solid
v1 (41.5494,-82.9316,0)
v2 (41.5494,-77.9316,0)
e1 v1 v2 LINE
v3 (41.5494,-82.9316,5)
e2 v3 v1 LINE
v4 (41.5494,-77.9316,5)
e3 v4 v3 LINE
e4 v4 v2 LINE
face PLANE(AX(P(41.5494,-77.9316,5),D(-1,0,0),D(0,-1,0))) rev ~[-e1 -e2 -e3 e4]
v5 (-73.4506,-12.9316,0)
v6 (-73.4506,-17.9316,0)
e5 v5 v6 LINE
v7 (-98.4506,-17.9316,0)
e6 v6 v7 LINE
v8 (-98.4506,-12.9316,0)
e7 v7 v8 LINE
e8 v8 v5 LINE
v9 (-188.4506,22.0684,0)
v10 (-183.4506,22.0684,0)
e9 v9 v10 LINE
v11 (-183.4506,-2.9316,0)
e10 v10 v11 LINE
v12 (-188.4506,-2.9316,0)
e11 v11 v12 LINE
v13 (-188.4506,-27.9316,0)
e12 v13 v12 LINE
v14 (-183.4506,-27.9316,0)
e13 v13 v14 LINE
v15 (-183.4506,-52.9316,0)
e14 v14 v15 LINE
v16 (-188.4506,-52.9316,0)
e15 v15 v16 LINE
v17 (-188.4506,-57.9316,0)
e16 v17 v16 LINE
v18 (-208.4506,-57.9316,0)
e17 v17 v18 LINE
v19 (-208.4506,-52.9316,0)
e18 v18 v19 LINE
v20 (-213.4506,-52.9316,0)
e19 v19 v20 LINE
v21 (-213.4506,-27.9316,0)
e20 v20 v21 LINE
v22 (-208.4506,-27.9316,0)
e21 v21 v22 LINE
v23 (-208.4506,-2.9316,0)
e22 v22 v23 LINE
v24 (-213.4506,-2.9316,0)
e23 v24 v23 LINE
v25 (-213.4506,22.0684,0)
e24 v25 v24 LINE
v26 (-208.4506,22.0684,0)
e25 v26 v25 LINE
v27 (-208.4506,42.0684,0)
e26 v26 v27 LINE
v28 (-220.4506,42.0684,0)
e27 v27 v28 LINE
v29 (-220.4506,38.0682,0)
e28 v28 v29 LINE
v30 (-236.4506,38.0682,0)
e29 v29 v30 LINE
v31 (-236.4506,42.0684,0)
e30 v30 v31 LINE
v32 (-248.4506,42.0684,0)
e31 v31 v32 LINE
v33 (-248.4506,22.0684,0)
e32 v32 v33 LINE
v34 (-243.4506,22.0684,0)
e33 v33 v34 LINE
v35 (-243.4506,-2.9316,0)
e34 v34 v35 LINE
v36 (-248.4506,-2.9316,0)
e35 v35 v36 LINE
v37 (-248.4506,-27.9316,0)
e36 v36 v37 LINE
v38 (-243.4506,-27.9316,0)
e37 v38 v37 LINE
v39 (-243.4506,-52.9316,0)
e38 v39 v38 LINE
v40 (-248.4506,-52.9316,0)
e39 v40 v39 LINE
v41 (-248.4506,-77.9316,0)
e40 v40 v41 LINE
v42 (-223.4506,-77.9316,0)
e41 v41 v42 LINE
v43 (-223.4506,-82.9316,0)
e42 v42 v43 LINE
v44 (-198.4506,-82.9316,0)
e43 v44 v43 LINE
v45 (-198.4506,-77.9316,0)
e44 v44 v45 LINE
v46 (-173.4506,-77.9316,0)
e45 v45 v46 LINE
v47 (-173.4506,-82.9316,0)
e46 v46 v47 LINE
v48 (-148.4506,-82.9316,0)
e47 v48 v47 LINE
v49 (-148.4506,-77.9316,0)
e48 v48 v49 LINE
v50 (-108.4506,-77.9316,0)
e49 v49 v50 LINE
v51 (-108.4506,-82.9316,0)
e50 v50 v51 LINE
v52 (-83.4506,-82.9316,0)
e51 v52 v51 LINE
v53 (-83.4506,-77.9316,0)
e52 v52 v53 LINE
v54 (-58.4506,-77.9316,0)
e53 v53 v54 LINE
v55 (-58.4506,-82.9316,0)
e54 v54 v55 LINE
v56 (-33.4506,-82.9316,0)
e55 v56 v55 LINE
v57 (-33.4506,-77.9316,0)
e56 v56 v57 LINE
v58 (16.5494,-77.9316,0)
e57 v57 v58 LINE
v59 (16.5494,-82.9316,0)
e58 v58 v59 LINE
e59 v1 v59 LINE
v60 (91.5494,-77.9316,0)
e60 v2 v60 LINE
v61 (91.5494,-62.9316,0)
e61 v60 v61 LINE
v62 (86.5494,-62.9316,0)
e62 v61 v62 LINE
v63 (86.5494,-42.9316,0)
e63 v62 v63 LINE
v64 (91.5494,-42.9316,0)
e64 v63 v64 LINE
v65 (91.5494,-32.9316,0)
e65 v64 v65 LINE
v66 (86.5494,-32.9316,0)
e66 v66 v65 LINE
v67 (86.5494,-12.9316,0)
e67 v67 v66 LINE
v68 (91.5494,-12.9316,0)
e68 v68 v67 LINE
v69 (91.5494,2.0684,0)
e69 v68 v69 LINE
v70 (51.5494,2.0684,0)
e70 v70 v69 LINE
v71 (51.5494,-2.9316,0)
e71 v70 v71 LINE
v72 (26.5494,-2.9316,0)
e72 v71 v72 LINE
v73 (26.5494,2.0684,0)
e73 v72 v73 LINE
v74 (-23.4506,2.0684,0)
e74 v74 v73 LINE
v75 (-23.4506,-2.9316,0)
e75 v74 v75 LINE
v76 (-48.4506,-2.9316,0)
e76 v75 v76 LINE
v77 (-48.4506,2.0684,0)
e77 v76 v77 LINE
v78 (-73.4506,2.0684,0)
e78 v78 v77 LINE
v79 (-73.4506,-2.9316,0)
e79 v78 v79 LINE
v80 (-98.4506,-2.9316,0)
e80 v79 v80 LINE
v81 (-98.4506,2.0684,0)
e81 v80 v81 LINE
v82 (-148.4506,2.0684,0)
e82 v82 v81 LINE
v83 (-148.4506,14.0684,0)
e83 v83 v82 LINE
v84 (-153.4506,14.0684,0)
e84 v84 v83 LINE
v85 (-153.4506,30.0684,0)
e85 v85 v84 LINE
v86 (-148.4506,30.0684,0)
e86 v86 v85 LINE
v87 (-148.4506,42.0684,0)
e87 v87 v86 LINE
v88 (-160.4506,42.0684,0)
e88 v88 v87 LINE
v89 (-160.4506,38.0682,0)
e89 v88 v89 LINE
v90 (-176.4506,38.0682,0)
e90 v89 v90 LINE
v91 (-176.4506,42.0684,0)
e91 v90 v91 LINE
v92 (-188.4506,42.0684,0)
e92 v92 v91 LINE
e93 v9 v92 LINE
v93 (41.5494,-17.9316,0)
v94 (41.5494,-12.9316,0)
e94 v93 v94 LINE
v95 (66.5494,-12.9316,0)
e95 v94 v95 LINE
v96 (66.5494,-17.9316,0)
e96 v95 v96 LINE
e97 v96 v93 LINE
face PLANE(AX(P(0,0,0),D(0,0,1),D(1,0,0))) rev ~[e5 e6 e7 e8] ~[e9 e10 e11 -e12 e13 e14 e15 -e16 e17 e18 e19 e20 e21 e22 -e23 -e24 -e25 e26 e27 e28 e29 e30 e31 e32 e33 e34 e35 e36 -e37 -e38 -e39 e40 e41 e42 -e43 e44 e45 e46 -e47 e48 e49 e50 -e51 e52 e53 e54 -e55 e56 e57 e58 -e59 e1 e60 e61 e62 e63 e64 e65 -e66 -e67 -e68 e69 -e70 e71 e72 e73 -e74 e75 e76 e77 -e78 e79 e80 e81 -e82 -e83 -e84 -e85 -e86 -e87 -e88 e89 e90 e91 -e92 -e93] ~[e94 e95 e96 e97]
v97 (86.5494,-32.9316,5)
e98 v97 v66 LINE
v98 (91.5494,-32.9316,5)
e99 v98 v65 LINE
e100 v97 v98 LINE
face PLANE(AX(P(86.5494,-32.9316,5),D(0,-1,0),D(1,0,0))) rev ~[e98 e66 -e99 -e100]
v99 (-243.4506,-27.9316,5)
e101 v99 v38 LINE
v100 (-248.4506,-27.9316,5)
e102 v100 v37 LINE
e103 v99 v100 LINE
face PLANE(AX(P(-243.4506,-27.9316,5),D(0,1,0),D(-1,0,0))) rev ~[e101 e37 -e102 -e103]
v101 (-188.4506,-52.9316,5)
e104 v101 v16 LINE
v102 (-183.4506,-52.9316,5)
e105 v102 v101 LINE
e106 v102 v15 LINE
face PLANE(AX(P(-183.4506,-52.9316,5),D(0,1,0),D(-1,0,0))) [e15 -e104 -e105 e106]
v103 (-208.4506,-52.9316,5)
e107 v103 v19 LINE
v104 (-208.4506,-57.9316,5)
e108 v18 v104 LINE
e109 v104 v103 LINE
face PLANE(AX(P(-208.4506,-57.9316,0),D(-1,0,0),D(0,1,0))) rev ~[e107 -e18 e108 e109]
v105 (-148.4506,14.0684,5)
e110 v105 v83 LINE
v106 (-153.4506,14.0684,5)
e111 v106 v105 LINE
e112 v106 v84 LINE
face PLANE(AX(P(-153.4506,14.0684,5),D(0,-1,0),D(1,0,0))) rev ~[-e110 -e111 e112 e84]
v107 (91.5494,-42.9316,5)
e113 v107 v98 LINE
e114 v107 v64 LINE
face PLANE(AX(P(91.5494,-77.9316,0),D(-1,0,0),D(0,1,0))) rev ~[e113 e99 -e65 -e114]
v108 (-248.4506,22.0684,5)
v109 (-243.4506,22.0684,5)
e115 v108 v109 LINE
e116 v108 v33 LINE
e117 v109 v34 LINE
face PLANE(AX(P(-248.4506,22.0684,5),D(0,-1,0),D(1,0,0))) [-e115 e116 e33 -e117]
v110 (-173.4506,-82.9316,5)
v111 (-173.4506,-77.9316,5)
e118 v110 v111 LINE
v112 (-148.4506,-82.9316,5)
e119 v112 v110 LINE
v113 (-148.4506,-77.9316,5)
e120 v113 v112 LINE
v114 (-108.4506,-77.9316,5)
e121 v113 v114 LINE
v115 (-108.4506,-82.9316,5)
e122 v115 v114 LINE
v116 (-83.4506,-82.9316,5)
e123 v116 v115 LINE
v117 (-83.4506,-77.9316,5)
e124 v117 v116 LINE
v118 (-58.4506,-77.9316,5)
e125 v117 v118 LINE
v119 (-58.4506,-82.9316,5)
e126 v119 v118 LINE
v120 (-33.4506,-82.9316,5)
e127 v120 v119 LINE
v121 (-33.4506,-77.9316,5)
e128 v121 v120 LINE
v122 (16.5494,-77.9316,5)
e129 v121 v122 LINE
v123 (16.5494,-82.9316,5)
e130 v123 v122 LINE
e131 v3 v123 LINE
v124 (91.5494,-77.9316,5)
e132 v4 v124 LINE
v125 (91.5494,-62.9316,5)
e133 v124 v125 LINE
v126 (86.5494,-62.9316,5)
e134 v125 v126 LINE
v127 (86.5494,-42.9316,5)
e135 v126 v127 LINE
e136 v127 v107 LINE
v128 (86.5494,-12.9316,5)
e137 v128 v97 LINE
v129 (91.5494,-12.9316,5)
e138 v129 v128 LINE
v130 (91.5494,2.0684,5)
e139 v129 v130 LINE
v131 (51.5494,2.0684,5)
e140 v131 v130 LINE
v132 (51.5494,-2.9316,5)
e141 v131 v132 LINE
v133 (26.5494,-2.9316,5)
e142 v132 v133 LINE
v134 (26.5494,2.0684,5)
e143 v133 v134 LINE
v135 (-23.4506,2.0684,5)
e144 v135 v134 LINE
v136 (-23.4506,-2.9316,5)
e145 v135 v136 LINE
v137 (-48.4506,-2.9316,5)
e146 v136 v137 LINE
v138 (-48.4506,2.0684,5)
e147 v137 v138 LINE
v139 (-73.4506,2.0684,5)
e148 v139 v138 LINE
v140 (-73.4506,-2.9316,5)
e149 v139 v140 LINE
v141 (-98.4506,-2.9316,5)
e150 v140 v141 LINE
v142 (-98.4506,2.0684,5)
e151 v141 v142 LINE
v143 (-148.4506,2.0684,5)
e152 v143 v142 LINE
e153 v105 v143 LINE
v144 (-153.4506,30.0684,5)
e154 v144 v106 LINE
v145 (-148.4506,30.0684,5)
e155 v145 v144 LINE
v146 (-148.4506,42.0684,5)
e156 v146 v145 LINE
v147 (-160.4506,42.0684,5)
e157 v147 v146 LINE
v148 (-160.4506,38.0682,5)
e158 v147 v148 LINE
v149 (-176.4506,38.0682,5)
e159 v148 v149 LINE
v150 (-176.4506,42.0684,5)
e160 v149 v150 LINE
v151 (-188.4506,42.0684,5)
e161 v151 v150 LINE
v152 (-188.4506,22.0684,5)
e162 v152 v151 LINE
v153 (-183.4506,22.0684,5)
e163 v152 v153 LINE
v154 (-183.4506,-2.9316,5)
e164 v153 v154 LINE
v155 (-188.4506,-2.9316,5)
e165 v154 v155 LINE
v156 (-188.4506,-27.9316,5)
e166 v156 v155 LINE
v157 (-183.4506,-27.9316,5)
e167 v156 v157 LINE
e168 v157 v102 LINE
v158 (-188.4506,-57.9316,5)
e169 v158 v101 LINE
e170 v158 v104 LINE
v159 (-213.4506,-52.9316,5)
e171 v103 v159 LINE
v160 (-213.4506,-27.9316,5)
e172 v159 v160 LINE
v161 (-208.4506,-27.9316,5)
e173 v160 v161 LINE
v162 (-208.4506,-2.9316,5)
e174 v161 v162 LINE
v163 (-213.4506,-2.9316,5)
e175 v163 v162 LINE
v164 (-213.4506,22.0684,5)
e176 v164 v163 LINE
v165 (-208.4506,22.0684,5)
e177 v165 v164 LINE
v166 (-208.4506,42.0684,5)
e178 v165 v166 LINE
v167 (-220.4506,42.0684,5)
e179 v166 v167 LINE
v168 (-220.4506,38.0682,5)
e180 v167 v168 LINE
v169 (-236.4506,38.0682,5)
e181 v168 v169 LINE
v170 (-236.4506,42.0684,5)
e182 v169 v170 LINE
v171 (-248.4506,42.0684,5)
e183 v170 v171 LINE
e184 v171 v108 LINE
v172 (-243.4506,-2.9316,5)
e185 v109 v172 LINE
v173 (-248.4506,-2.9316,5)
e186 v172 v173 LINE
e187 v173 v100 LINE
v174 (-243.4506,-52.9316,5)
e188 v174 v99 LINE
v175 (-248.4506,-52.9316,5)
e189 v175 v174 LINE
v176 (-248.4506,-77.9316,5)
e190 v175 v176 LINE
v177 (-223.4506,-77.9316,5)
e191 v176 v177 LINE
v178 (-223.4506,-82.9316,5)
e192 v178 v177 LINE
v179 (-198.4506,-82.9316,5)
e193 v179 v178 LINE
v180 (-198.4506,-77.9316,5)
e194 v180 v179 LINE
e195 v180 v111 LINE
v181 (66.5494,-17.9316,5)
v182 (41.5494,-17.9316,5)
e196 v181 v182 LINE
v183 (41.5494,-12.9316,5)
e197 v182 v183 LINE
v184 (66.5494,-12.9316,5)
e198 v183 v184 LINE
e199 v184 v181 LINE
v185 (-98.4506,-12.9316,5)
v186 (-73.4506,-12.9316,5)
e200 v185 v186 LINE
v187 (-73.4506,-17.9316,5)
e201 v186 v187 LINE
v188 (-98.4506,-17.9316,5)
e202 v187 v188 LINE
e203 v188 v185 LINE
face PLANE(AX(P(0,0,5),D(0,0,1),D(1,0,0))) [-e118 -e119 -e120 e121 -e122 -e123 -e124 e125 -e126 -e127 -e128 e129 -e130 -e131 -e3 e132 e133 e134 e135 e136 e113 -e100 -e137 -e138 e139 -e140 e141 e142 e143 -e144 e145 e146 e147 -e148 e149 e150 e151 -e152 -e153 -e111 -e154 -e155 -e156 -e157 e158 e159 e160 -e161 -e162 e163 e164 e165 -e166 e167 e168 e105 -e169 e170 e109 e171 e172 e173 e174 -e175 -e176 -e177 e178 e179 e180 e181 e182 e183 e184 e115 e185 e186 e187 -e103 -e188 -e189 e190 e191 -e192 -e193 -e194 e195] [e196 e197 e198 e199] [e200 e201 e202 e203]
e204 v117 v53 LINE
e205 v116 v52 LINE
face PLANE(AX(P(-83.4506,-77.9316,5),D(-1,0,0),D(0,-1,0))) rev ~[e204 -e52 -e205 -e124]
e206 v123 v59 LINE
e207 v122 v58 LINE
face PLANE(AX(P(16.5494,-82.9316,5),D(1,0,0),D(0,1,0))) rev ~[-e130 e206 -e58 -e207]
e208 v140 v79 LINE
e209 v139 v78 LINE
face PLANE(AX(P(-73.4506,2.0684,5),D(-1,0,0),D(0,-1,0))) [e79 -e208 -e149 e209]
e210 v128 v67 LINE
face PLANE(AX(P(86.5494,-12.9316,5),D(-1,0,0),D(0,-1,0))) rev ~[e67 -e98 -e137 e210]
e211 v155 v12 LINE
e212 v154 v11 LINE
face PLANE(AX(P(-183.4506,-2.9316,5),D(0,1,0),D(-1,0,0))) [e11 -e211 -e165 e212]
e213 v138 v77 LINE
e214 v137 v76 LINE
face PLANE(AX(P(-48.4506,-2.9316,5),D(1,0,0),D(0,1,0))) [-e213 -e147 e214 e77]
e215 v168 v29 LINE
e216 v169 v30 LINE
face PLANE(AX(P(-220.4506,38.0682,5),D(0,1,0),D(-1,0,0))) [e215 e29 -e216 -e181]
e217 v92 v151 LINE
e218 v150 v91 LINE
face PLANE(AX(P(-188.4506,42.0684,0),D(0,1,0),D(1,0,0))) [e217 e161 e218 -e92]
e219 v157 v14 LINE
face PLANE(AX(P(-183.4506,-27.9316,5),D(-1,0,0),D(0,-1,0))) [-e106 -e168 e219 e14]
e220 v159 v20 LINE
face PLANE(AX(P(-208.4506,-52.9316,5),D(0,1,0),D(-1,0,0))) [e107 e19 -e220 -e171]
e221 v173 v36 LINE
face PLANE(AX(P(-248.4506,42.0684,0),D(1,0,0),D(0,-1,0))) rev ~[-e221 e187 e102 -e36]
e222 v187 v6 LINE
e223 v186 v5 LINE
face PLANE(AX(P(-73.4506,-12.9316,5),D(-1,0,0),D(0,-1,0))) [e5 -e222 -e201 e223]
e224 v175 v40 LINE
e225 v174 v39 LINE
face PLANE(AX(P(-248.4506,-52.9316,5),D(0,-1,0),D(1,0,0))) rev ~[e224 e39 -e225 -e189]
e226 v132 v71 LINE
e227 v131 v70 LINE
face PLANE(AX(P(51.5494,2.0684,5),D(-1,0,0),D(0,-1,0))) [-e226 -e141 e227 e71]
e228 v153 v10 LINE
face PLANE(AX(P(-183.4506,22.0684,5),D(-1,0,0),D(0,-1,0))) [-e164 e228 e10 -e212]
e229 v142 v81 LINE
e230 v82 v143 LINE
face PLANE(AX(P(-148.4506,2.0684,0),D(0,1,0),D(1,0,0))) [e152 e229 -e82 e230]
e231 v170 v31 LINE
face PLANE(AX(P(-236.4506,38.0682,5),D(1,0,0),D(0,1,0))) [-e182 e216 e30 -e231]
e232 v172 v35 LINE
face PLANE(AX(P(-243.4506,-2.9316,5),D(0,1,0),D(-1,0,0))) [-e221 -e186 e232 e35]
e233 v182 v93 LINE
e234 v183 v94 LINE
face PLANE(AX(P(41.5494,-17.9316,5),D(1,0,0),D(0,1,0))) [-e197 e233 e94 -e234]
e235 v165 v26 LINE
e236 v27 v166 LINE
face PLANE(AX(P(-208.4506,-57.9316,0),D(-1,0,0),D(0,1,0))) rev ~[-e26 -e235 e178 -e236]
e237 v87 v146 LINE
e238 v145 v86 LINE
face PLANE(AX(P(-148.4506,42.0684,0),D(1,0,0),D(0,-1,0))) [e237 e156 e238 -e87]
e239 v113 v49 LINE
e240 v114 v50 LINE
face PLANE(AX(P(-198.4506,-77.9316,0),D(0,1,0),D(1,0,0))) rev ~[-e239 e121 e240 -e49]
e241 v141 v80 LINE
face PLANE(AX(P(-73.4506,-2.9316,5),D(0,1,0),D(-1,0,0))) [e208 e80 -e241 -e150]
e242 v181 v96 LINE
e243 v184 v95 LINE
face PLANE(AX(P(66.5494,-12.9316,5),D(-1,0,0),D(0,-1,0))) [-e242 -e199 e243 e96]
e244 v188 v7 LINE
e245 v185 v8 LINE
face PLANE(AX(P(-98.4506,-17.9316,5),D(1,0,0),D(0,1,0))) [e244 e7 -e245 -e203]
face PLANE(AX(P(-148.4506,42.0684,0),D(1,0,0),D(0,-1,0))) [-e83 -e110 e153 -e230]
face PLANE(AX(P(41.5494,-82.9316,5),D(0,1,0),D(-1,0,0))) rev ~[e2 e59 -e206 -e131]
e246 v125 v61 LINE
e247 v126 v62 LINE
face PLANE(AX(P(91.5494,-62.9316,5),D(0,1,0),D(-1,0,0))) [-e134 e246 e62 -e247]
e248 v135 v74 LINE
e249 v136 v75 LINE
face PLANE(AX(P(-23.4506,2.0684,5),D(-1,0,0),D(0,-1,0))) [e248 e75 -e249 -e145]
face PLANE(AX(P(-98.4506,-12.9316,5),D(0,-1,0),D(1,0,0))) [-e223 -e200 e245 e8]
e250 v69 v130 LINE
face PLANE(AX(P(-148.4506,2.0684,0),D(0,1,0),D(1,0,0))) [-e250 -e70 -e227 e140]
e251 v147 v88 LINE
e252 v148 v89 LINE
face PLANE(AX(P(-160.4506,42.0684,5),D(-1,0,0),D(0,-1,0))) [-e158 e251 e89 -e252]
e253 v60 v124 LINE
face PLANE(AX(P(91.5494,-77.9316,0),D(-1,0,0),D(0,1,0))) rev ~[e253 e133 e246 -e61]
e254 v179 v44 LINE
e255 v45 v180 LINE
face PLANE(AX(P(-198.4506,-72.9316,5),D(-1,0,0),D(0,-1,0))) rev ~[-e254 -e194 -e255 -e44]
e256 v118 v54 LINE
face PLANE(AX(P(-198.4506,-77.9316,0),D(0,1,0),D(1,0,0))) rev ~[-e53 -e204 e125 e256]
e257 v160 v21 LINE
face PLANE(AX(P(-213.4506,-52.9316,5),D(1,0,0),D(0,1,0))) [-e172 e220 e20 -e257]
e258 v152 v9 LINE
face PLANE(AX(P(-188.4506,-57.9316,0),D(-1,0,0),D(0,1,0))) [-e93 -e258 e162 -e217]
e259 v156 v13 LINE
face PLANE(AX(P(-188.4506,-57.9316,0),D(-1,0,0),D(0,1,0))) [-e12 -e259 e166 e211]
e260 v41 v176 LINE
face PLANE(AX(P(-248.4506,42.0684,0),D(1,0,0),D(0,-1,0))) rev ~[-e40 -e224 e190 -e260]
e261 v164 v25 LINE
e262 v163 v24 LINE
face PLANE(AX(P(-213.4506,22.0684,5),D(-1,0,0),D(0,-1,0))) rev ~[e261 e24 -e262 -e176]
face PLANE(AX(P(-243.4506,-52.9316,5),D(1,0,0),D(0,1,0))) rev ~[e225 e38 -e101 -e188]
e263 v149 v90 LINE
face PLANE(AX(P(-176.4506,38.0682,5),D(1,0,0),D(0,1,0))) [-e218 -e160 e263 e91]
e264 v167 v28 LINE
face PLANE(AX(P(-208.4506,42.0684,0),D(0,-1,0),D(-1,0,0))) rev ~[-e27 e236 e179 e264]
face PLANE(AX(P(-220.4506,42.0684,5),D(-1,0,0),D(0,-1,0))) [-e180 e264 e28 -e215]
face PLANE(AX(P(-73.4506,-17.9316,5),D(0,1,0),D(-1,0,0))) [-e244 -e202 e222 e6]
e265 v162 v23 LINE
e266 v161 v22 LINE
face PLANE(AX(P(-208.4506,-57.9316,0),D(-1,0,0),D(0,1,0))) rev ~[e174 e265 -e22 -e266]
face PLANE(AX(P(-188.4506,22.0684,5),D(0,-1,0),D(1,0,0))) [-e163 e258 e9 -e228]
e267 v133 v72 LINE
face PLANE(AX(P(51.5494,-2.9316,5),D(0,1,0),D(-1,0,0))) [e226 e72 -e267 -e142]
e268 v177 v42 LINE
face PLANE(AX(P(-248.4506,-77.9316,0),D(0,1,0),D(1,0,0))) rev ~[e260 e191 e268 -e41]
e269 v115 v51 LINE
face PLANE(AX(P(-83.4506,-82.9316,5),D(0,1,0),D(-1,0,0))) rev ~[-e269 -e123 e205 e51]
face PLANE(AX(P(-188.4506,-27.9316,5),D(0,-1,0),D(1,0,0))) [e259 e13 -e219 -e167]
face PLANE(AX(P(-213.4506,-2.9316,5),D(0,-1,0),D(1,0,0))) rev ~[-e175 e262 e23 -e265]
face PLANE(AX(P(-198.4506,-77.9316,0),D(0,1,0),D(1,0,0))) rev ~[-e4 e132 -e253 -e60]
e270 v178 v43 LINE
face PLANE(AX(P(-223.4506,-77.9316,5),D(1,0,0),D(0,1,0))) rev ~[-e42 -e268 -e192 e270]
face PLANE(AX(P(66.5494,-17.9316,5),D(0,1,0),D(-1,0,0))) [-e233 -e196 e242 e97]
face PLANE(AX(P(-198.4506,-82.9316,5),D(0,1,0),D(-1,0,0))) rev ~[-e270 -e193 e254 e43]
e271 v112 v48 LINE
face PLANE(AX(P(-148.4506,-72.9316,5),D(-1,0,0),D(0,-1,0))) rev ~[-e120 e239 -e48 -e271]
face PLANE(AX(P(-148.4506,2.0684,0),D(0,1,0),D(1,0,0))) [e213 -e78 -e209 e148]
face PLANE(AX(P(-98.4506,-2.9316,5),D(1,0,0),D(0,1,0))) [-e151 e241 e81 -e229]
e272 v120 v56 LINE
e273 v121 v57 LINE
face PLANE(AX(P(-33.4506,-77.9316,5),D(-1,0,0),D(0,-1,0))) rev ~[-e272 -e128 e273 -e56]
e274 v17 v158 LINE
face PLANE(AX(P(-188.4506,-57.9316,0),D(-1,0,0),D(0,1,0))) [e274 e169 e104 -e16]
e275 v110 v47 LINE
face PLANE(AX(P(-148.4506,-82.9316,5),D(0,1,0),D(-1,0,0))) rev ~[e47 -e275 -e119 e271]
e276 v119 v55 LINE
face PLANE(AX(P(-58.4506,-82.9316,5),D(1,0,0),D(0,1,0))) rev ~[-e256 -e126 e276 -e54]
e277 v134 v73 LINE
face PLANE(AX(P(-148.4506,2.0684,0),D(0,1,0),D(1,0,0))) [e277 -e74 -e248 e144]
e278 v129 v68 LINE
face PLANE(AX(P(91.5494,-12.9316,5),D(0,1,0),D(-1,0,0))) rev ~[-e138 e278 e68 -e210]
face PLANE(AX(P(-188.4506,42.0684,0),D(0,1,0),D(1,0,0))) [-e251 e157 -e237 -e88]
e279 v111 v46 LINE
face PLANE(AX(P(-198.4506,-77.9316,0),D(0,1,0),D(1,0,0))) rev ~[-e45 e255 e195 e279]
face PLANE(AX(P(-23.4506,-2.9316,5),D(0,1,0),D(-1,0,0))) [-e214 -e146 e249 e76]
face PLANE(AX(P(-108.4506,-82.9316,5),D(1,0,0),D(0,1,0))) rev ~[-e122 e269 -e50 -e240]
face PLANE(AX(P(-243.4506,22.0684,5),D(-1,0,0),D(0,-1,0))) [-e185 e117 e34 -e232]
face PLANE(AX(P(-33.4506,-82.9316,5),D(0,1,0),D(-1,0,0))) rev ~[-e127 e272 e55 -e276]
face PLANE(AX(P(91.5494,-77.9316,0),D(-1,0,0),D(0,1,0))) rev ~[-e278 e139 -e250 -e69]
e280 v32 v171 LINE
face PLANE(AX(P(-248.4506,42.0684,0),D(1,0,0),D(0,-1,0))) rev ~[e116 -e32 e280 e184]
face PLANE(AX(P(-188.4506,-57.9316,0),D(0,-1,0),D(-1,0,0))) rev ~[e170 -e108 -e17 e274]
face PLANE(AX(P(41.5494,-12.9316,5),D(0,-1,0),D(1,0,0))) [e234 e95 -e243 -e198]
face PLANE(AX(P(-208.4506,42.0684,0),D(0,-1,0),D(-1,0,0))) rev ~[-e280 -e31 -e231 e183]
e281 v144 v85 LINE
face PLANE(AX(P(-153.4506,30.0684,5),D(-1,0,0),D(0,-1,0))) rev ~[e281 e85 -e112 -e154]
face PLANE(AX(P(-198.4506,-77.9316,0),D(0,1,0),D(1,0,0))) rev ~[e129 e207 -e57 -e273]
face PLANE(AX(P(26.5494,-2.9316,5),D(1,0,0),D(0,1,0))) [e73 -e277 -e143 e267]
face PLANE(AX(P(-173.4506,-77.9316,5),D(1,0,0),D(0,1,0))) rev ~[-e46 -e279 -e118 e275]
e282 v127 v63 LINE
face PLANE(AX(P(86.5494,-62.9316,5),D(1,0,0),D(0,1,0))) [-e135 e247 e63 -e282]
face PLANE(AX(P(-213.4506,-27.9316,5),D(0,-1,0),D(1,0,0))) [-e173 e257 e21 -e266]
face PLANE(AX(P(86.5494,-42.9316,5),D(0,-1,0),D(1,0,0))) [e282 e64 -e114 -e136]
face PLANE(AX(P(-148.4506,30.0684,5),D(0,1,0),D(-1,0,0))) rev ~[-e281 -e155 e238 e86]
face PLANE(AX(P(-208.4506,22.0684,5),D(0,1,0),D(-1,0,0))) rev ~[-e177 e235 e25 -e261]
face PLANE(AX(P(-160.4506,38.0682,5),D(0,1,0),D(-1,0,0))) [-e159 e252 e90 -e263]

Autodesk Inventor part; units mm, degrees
ref_plane "YZ Plane" through (0, 0, 0) normal (1, 0, 0) x (0, 1, 0)
ref_plane "XZ Plane" through (0, 0, 0) normal (0, 1, 0) x (-1, 0, 0)
ref_plane "XY Plane" through (0, 0, 0) normal (0, 0, 1) x (1, 0, 0)
sketch "Sketch1" plane through (0, 0, 0) normal (0, 0, 1) x (1, 0, 0)
  line L0 (-188.4506, 42.0684) -> (-148.4506, 42.0684)
  line L1 (-148.4506, 42.0684) -> (-148.4506, 2.0684)
  line L2 (-148.4506, 2.0684) -> (91.5494, 2.0684)
  line L3 (-198.4506, -77.9316) -> (91.5494, -77.9316)
  line L4 (91.5494, -77.9316) -> (91.5494, 2.0684)
  line L5 (-188.4506, -57.9316) -> (-208.4506, -57.9316)
  line L6 (-208.4506, -57.9316) -> (-208.4506, 42.0684)
  line L7 (-208.4506, 42.0684) -> (-248.4506, 42.0684)
  line L8 (-248.4506, 42.0684) -> (-248.4506, -77.9316)
  line L9 (-248.4506, -77.9316) -> (-198.4506, -77.9316)
  line L10 (-188.4506, -57.9316) -> (-188.4506, 42.0684)
  point P0 (0, 0)
  dimension "d2" = 80
  dimension "d3" = 40
  dimension "d23" = 40
  dimension "d24" = 20
  dimension "d26" = 20
  dimension "d27" = 120
  dimension "d28" = 120
  dimension "d58" = 280
extrude "Extrusion1" add sketch "Sketch1" along normal blind 5
sketch "Sketch2" plane through (0, 0, 5) normal (0, 0, 1) x (1, 0, 0)
  line L0 (91.5494, 2.0684) -> (-148.4506, 2.0684) projected
  line L1 (-148.4506, 2.0684) -> (-148.4506, 42.0684) projected
  line L2 (-148.4506, 42.0684) -> (-188.4506, 42.0684) projected
  line L3 (-248.4506, -77.9316) -> (91.5494, -77.9316) projected
  line L4 (91.5494, -77.9316) -> (91.5494, 2.0684) projected
  line L5 (91.5494, 2.0684) -> (-148.4506, 2.0684) projected
  line L6 (-98.4506, 2.0684) -> (-73.4506, 2.0684)
  line L7 (-73.4506, 2.0684) -> (-73.4506, -2.9316)
  line L8 (-73.4506, -2.9316) -> (-98.4506, -2.9316)
  line L9 (-98.4506, -2.9316) -> (-98.4506, 2.0684)
  line L10 (-48.4506, 2.0684) -> (-23.4506, 2.0684)
  line L11 (-23.4506, 2.0684) -> (-23.4506, -2.9316)
  line L12 (-23.4506, -2.9316) -> (-48.4506, -2.9316)
  line L13 (-48.4506, -2.9316) -> (-48.4506, 2.0684)
  line L14 (26.5494, 2.0684) -> (51.5494, 2.0684)
  line L15 (51.5494, 2.0684) -> (51.5494, -2.9316)
  line L16 (51.5494, -2.9316) -> (26.5494, -2.9316)
  line L17 (26.5494, -2.9316) -> (26.5494, 2.0684)
  line L18 (-148.4506, 42.0684) -> (-188.4506, 42.0684) projected
  line L19 (91.5494, -77.9316) -> (91.5494, 2.0684) projected
  line L20 (-73.4506, -7.9316) -> (-73.4506, -2.9316)
  line L21 (-98.4506, -2.9316) -> (-98.4506, -7.9316)
  line L22 (-23.4506, -7.9316) -> (-23.4506, -2.9316)
  line L23 (-48.4506, -2.9316) -> (-48.4506, -7.9316)
  line L24 (51.5494, -7.9316) -> (51.5494, -2.9316)
  line L25 (26.5494, -2.9316) -> (26.5494, -7.9316)
  line L26 (41.5494, -77.9316) -> (41.5494, -72.9316)
  line L27 (41.5494, -72.9316) -> (16.5494, -72.9316)
  line L28 (16.5494, -72.9316) -> (16.5494, -77.9316)
  line L29 (16.5494, -72.9316) -> (16.5494, -67.9316)
  line L30 (41.5494, -67.9316) -> (41.5494, -72.9316)
  line L31 (-188.4506, -57.9316) -> (-208.4506, -57.9316) projected
  line L32 (-208.4506, -57.9316) -> (-208.4506, 42.0684) projected
  line L33 (-208.4506, 42.0684) -> (-248.4506, 42.0684) projected
  line L34 (-248.4506, 42.0684) -> (-248.4506, -77.9316) projected
  line L35 (-188.4506, 42.0684) -> (-188.4506, -57.9316) projected
  line L36 (-208.4506, 42.0684) -> (-248.4506, 42.0684) projected
  line L37 (-236.4506, 42.0684) -> (-220.4506, 42.0684)
  line L38 (-220.4506, 42.0684) -> (-220.4506, 38.0682)
  line L39 (-220.4506, 38.0682) -> (-236.4506, 38.0682)
  line L40 (-236.4506, 38.0682) -> (-236.4506, 42.0684)
  line L41 (-148.4506, 42.0684) -> (-188.4506, 42.0684) projected
  line L42 (-176.4506, 42.0684) -> (-160.4506, 42.0684)
  line L43 (-160.4506, 42.0684) -> (-160.4506, 38.0682)
  line L44 (-160.4506, 38.0682) -> (-176.4506, 38.0682)
  line L45 (-176.4506, 38.0682) -> (-176.4506, 42.0684)
  line L46 (-248.4506, 42.0684) -> (-248.4506, -77.9316) projected
  line L47 (-248.4506, 22.0684) -> (-243.4506, 22.0684)
  line L48 (-243.4506, 22.0684) -> (-243.4506, -2.9316)
  line L49 (-243.4506, -2.9316) -> (-248.4506, -2.9316)
  line L50 (-248.4506, -2.9316) -> (-248.4506, 22.0684)
  line L51 (-248.4506, -52.9316) -> (-243.4506, -52.9316)
  line L52 (-243.4506, -52.9316) -> (-243.4506, -27.9316)
  line L53 (-243.4506, -27.9316) -> (-248.4506, -27.9316)
  line L54 (-248.4506, -27.9316) -> (-248.4506, -52.9316)
  line L55 (-188.4506, 42.0684) -> (-188.4506, -57.9316) projected
  line L56 (-188.4506, 22.0684) -> (-183.4506, 22.0684)
  line L57 (-183.4506, 22.0684) -> (-183.4506, -2.9316)
  line L58 (-183.4506, -2.9316) -> (-188.4506, -2.9316)
  line L59 (-188.4506, -2.9316) -> (-188.4506, 22.0684)
  line L60 (-188.4506, -27.9316) -> (-183.4506, -27.9316)
  line L61 (-183.4506, -27.9316) -> (-183.4506, -52.9316)
  line L62 (-183.4506, -52.9316) -> (-188.4506, -52.9316)
  line L63 (-188.4506, -52.9316) -> (-188.4506, -27.9316)
  line L64 (-208.4506, -57.9316) -> (-208.4506, 42.0684) projected
  line L65 (-208.4506, 22.0684) -> (-213.4506, 22.0684)
  line L66 (-213.4506, 22.0684) -> (-213.4506, -2.9316)
  line L67 (-213.4506, -2.9316) -> (-208.4506, -2.9316)
  line L68 (-208.4506, -2.9316) -> (-208.4506, 22.0684)
  line L69 (-208.4506, -52.9316) -> (-213.4506, -52.9316)
  line L70 (-213.4506, -52.9316) -> (-213.4506, -27.9316)
  line L71 (-213.4506, -27.9316) -> (-208.4506, -27.9316)
  line L72 (-208.4506, -27.9316) -> (-208.4506, -52.9316)
  line L73 (-148.4506, 2.0684) -> (-148.4506, 42.0684) projected
  line L74 (-148.4506, 30.0684) -> (-153.4506, 30.0684)
  line L75 (-153.4506, 30.0684) -> (-153.4506, 14.0684)
  line L76 (-153.4506, 14.0684) -> (-148.4506, 14.0684)
  line L77 (-148.4506, 14.0684) -> (-148.4506, 30.0684)
  line L78 (-248.4506, -77.9316) -> (91.5494, -77.9316) projected
  line L79 (-223.4506, -77.9316) -> (-198.4506, -77.9316)
  line L80 (-198.4506, -77.9316) -> (-198.4506, -72.9316)
  line L81 (-198.4506, -72.9316) -> (-223.4506, -72.9316)
  line L82 (-223.4506, -72.9316) -> (-223.4506, -77.9316)
  line L83 (-173.4506, -77.9316) -> (-148.4506, -77.9316)
  line L84 (-148.4506, -77.9316) -> (-148.4506, -72.9316)
  line L85 (-148.4506, -72.9316) -> (-173.4506, -72.9316)
  line L86 (-173.4506, -72.9316) -> (-173.4506, -77.9316)
  line L87 (-108.4506, -77.9316) -> (-83.4506, -77.9316)
  line L88 (-83.4506, -77.9316) -> (-83.4506, -72.9316)
  line L89 (-83.4506, -72.9316) -> (-108.4506, -72.9316)
  line L90 (-108.4506, -72.9316) -> (-108.4506, -77.9316)
  line L91 (-58.4506, -77.9316) -> (-33.4506, -77.9316)
  line L92 (-33.4506, -77.9316) -> (-33.4506, -72.9316)
  line L93 (-33.4506, -72.9316) -> (-58.4506, -72.9316)
  line L94 (-58.4506, -72.9316) -> (-58.4506, -77.9316)
  line L95 (91.5494, -12.9316) -> (86.5494, -12.9316)
  line L96 (86.5494, -12.9316) -> (86.5494, -32.9316)
  line L97 (86.5494, -32.9316) -> (91.5494, -32.9316)
  line L98 (91.5494, -32.9316) -> (91.5494, -12.9316)
  line L99 (91.5494, -62.9316) -> (86.5494, -62.9316)
  line L100 (86.5494, -62.9316) -> (86.5494, -42.9316)
  line L101 (86.5494, -42.9316) -> (91.5494, -42.9316)
  line L102 (91.5494, -42.9316) -> (91.5494, -62.9316)
  point P0 (0, 0)
  point P1 (0, -75.8632)
  point P2 (91.5494, -32.9316)
  point P3 (91.5494, -12.9316)
  point P4 (51.5494, 2.0684)
  point P5 (26.5494, 2.0684)
  point P6 (-23.4506, 2.0684)
  point P7 (-48.4506, 2.0684)
  point P8 (-73.4506, 2.0684)
  point P9 (-98.4506, 2.0684)
  point P10 (-188.4506, -27.9316)
  point P11 (-148.4506, 14.0684)
  point P12 (-148.4506, 30.0684)
  point P13 (-188.4506, -2.9316)
  point P14 (-160.4506, 42.0684)
  point P15 (-176.4506, 42.0684)
  point P16 (-208.4506, -2.9316)
  dimension "d6" = 25
  dimension "d7" = 5
  dimension "d8" = 25
  dimension "d9" = 25
  dimension "d10" = 5
  dimension "d20" = 40
  dimension "d21" = 50
  dimension "d22" = 25
  dimension "d29" = 5
  dimension "d30" = 25
  dimension "d31" = 5
  dimension "d32" = 25
  dimension "d33" = 25
  dimension "d34" = 25
  dimension "d35" = 5
  dimension "d36" = 5
  dimension "d37" = 5
  dimension "d38" = 16
  dimension "d39" = 12
  dimension "d40" = 25
  dimension "d41" = 5
  dimension "d42" = 25
  dimension "d44" = 25
  dimension "d45" = 25
  dimension "d46" = 5
  dimension "d47" = 5
  dimension "d48" = 20
  dimension "d49" = 20
  dimension "d50" = 10
  dimension "d51" = 15
  dimension "d54" = 12
  dimension "d55" = 16
  dimension "d56" = 16
  dimension "d57" = 12
extrude "Extrusion2" cut sketch "Sketch2" against normal blind 5 contours L15 L16 L17 L0 | L4 L97 L96 L95 | L11 L12 L13 L0 | L4 L99 L100 L101 | L7 L8 L9 L0 | L3 L28 L27 L26 | L76 L75 L74 L1 | L3 L94 L93 L92 | L3 L90 L89 L88 | L43 L44 L45 L2 | L3 L86 L85 L84 | L56 L57 L58 L35 | L3 L82 L81 L80 | L60 L61 L62 L35 | L34 L53 L52 L51 | L34 L47 L48 L49 | L69 L70 L71 L32 | L67 L66 L65 L32 | L33 L38 L39 L40
sketch "Sketch3" plane through (0, 0, 5) normal (0, 0, 1) x (1, 0, 0)
  line L0 (-176.4506, 38.0682) -> (-176.4506, 42.0684) projected
  line L1 (-176.4506, 42.0684) -> (-188.4506, 42.0684) projected
  line L2 (-188.4506, 42.0684) -> (-188.4506, 22.0684) projected
  line L3 (-188.4506, 22.0684) -> (-183.4506, 22.0684) projected
  line L4 (-183.4506, 22.0684) -> (-183.4506, -2.9316) projected
  line L5 (-183.4506, -2.9316) -> (-188.4506, -2.9316) projected
  line L6 (-188.4506, -2.9316) -> (-188.4506, -27.9316) projected
  line L7 (-188.4506, -27.9316) -> (-183.4506, -27.9316) projected
  line L8 (-183.4506, -27.9316) -> (-183.4506, -52.9316) projected
  line L9 (-183.4506, -52.9316) -> (-188.4506, -52.9316) projected
  line L10 (-188.4506, -52.9316) -> (-188.4506, -57.9316) projected
  line L11 (-188.4506, -57.9316) -> (-208.4506, -57.9316) projected
  line L12 (-208.4506, -57.9316) -> (-208.4506, -52.9316) projected
  line L13 (-208.4506, -52.9316) -> (-213.4506, -52.9316) projected
  line L14 (-213.4506, -52.9316) -> (-213.4506, -27.9316) projected
  line L15 (-213.4506, -27.9316) -> (-208.4506, -27.9316) projected
  line L16 (-208.4506, -27.9316) -> (-208.4506, -2.9316) projected
  line L17 (-208.4506, -2.9316) -> (-213.4506, -2.9316) projected
  line L18 (-213.4506, -2.9316) -> (-213.4506, 22.0684) projected
  line L19 (-213.4506, 22.0684) -> (-208.4506, 22.0684) projected
  line L20 (-208.4506, 22.0684) -> (-208.4506, 42.0684) projected
  line L21 (-208.4506, 42.0684) -> (-220.4506, 42.0684) projected
  line L22 (-220.4506, 42.0684) -> (-220.4506, 38.0682) projected
  line L23 (-220.4506, 38.0682) -> (-236.4506, 38.0682) projected
  line L24 (-236.4506, 38.0682) -> (-236.4506, 42.0684) projected
  line L25 (-236.4506, 42.0684) -> (-248.4506, 42.0684) projected
  line L26 (-248.4506, 42.0684) -> (-248.4506, 22.0684) projected
  line L27 (-248.4506, 22.0684) -> (-243.4506, 22.0684) projected
  line L28 (-243.4506, 22.0684) -> (-243.4506, -2.9316) projected
  line L29 (-243.4506, -2.9316) -> (-248.4506, -2.9316) projected
  line L30 (-248.4506, -2.9316) -> (-248.4506, -27.9316) projected
  line L31 (-248.4506, -27.9316) -> (-243.4506, -27.9316) projected
  line L32 (-243.4506, -27.9316) -> (-243.4506, -52.9316) projected
  line L33 (-243.4506, -52.9316) -> (-248.4506, -52.9316) projected
  line L34 (-248.4506, -52.9316) -> (-248.4506, -77.9316) projected
  line L35 (-248.4506, -77.9316) -> (-223.4506, -77.9316) projected
  line L36 (-223.4506, -77.9316) -> (-223.4506, -72.9316) projected
  line L37 (-223.4506, -72.9316) -> (-198.4506, -72.9316) projected
  line L38 (-198.4506, -72.9316) -> (-198.4506, -77.9316) projected
  line L39 (-198.4506, -77.9316) -> (-173.4506, -77.9316) projected
  line L40 (-173.4506, -77.9316) -> (-173.4506, -72.9316) projected
  line L41 (-173.4506, -72.9316) -> (-148.4506, -72.9316) projected
  line L42 (-148.4506, -72.9316) -> (-148.4506, -77.9316) projected
  line L43 (-148.4506, -77.9316) -> (-108.4506, -77.9316) projected
  line L44 (-108.4506, -77.9316) -> (-108.4506, -72.9316) projected
  line L45 (-108.4506, -72.9316) -> (-83.4506, -72.9316) projected
  line L46 (-83.4506, -72.9316) -> (-83.4506, -77.9316) projected
  line L47 (-83.4506, -77.9316) -> (-58.4506, -77.9316) projected
  line L48 (-58.4506, -77.9316) -> (-58.4506, -72.9316) projected
  line L49 (-58.4506, -72.9316) -> (-33.4506, -72.9316) projected
  line L50 (-33.4506, -72.9316) -> (-33.4506, -77.9316) projected
  line L51 (-33.4506, -77.9316) -> (16.5494, -77.9316) projected
  line L52 (16.5494, -77.9316) -> (16.5494, -72.9316) projected
  line L53 (16.5494, -72.9316) -> (41.5494, -72.9316) projected
  line L54 (41.5494, -72.9316) -> (41.5494, -77.9316) projected
  line L55 (41.5494, -77.9316) -> (91.5494, -77.9316) projected
  line L56 (91.5494, -77.9316) -> (91.5494, -62.9316) projected
  line L57 (91.5494, -62.9316) -> (86.5494, -62.9316) projected
  line L58 (86.5494, -62.9316) -> (86.5494, -42.9316) projected
  line L59 (86.5494, -42.9316) -> (91.5494, -42.9316) projected
  line L60 (91.5494, -42.9316) -> (91.5494, -32.9316) projected
  line L61 (91.5494, -32.9316) -> (86.5494, -32.9316) projected
  line L62 (86.5494, -32.9316) -> (86.5494, -12.9316) projected
  line L63 (86.5494, -12.9316) -> (91.5494, -12.9316) projected
  line L64 (91.5494, -12.9316) -> (91.5494, 2.0684) projected
  line L65 (91.5494, 2.0684) -> (51.5494, 2.0684) projected
  line L66 (51.5494, 2.0684) -> (51.5494, -2.9316) projected
  line L67 (51.5494, -2.9316) -> (26.5494, -2.9316) projected
  line L68 (26.5494, -2.9316) -> (26.5494, 2.0684) projected
  line L69 (26.5494, 2.0684) -> (-23.4506, 2.0684) projected
  line L70 (-23.4506, 2.0684) -> (-23.4506, -2.9316) projected
  line L71 (-23.4506, -2.9316) -> (-48.4506, -2.9316) projected
  line L72 (-48.4506, -2.9316) -> (-48.4506, 2.0684) projected
  line L73 (-48.4506, 2.0684) -> (-73.4506, 2.0684) projected
  line L74 (-73.4506, 2.0684) -> (-73.4506, -2.9316) projected
  line L75 (-73.4506, -2.9316) -> (-98.4506, -2.9316) projected
  line L76 (-98.4506, -2.9316) -> (-98.4506, 2.0684) projected
  line L77 (-98.4506, 2.0684) -> (-148.4506, 2.0684) projected
  line L78 (-148.4506, 2.0684) -> (-148.4506, 14.0684) projected
  line L79 (-148.4506, 14.0684) -> (-153.4506, 14.0684) projected
  line L80 (-153.4506, 14.0684) -> (-153.4506, 30.0684) projected
  line L81 (-153.4506, 30.0684) -> (-148.4506, 30.0684) projected
  line L82 (-148.4506, 30.0684) -> (-148.4506, 42.0684) projected
  line L83 (-148.4506, 42.0684) -> (-160.4506, 42.0684) projected
  line L84 (-160.4506, 42.0684) -> (-160.4506, 38.0682) projected
  line L85 (-160.4506, 38.0682) -> (-176.4506, 38.0682) projected
  line L86 (-223.4506, -72.9316) -> (-198.4506, -72.9316)
  line L87 (-198.4506, -72.9316) -> (-198.4506, -82.9316)
  line L88 (-198.4506, -82.9316) -> (-223.4506, -82.9316)
  line L89 (-223.4506, -82.9316) -> (-223.4506, -72.9316)
  line L90 (-148.4506, -72.9316) -> (-173.4506, -72.9316) projected
  line L91 (-173.4506, -72.9316) -> (-148.4506, -72.9316)
  line L92 (-148.4506, -72.9316) -> (-148.4506, -82.9316)
  line L93 (-148.4506, -82.9316) -> (-173.4506, -82.9316)
  line L94 (-173.4506, -82.9316) -> (-173.4506, -72.9316)
  line L95 (-108.4506, -72.9316) -> (-83.4506, -72.9316)
  line L96 (-83.4506, -72.9316) -> (-83.4506, -82.9316)
  line L97 (-83.4506, -82.9316) -> (-108.4506, -82.9316)
  line L98 (-108.4506, -82.9316) -> (-108.4506, -72.9316)
  line L99 (-33.4506, -72.9316) -> (-58.4506, -72.9316) projected
  line L100 (-58.4506, -72.9316) -> (-33.4506, -72.9316)
  line L101 (-33.4506, -72.9316) -> (-33.4506, -82.9316)
  line L102 (-33.4506, -82.9316) -> (-58.4506, -82.9316)
  line L103 (-58.4506, -82.9316) -> (-58.4506, -72.9316)
  line L104 (16.5494, -72.9316) -> (41.5494, -72.9316) projected
  line L105 (16.5494, -72.9316) -> (41.5494, -72.9316)
  line L106 (41.5494, -72.9316) -> (41.5494, -82.9316)
  line L107 (41.5494, -82.9316) -> (16.5494, -82.9316)
  line L108 (16.5494, -82.9316) -> (16.5494, -72.9316)
  point P0 (0, 0)
  dimension "d59" = 10
  dimension "d60" = 10
  dimension "d61" = 10
  dimension "d62" = 10
  dimension "d63" = 10
extrude "Extrusion3" add sketch "Sketch3" against normal blind 5 contours L106 L107 L108 L52 L53 L54 | L101 L102 L103 L48 L49 L50 | L36 L37 L38 L87 L88 L89 | L96 L97 L98 L44 L45 L46 | L40 L41 L42 L92 L93 L94
sketch "Sketch4" plane through (0, 0, 5) normal (0, 0, 1) x (1, 0, 0)
  line L0 (-176.4506, 38.0682) -> (-176.4506, 42.0684) projected
  line L1 (-176.4506, 42.0684) -> (-188.4506, 42.0684) projected
  line L2 (-188.4506, 42.0684) -> (-188.4506, 22.0684) projected
  line L3 (-188.4506, 22.0684) -> (-183.4506, 22.0684) projected
  line L4 (-183.4506, 22.0684) -> (-183.4506, -2.9316) projected
  line L5 (-183.4506, -2.9316) -> (-188.4506, -2.9316) projected
  line L6 (-188.4506, -2.9316) -> (-188.4506, -27.9316) projected
  line L7 (-188.4506, -27.9316) -> (-183.4506, -27.9316) projected
  line L8 (-183.4506, -27.9316) -> (-183.4506, -52.9316) projected
  line L9 (-183.4506, -52.9316) -> (-188.4506, -52.9316) projected
  line L10 (-188.4506, -52.9316) -> (-188.4506, -57.9316) projected
  line L11 (-188.4506, -57.9316) -> (-208.4506, -57.9316) projected
  line L12 (-208.4506, -57.9316) -> (-208.4506, -52.9316) projected
  line L13 (-208.4506, -52.9316) -> (-213.4506, -52.9316) projected
  line L14 (-213.4506, -52.9316) -> (-213.4506, -27.9316) projected
  line L15 (-213.4506, -27.9316) -> (-208.4506, -27.9316) projected
  line L16 (-208.4506, -27.9316) -> (-208.4506, -2.9316) projected
  line L17 (-208.4506, -2.9316) -> (-213.4506, -2.9316) projected
  line L18 (-213.4506, -2.9316) -> (-213.4506, 22.0684) projected
  line L19 (-213.4506, 22.0684) -> (-208.4506, 22.0684) projected
  line L20 (-208.4506, 22.0684) -> (-208.4506, 42.0684) projected
  line L21 (-208.4506, 42.0684) -> (-220.4506, 42.0684) projected
  line L22 (-220.4506, 42.0684) -> (-220.4506, 38.0682) projected
  line L23 (-220.4506, 38.0682) -> (-236.4506, 38.0682) projected
  line L24 (-236.4506, 38.0682) -> (-236.4506, 42.0684) projected
  line L25 (-236.4506, 42.0684) -> (-248.4506, 42.0684) projected
  line L26 (-248.4506, 42.0684) -> (-248.4506, 22.0684) projected
  line L27 (-248.4506, 22.0684) -> (-243.4506, 22.0684) projected
  line L28 (-243.4506, 22.0684) -> (-243.4506, -2.9316) projected
  line L29 (-243.4506, -2.9316) -> (-248.4506, -2.9316) projected
  line L30 (-248.4506, -2.9316) -> (-248.4506, -27.9316) projected
  line L31 (-248.4506, -27.9316) -> (-243.4506, -27.9316) projected
  line L32 (-243.4506, -27.9316) -> (-243.4506, -52.9316) projected
  line L33 (-243.4506, -52.9316) -> (-248.4506, -52.9316) projected
  line L34 (-248.4506, -52.9316) -> (-248.4506, -77.9316) projected
  line L35 (-248.4506, -77.9316) -> (-223.4506, -77.9316) projected
  line L36 (-223.4506, -77.9316) -> (-223.4506, -82.9316) projected
  line L37 (-223.4506, -82.9316) -> (-198.4506, -82.9316) projected
  line L38 (-198.4506, -82.9316) -> (-198.4506, -77.9316) projected
  line L39 (-198.4506, -77.9316) -> (-173.4506, -77.9316) projected
  line L40 (-173.4506, -77.9316) -> (-173.4506, -82.9316) projected
  line L41 (-173.4506, -82.9316) -> (-148.4506, -82.9316) projected
  line L42 (-148.4506, -82.9316) -> (-148.4506, -77.9316) projected
  line L43 (-148.4506, -77.9316) -> (-108.4506, -77.9316) projected
  line L44 (-108.4506, -77.9316) -> (-108.4506, -82.9316) projected
  line L45 (-108.4506, -82.9316) -> (-83.4506, -82.9316) projected
  line L46 (-83.4506, -82.9316) -> (-83.4506, -77.9316) projected
  line L47 (-83.4506, -77.9316) -> (-58.4506, -77.9316) projected
  line L48 (-58.4506, -77.9316) -> (-58.4506, -82.9316) projected
  line L49 (-58.4506, -82.9316) -> (-33.4506, -82.9316) projected
  line L50 (-33.4506, -82.9316) -> (-33.4506, -77.9316) projected
  line L51 (-33.4506, -77.9316) -> (16.5494, -77.9316) projected
  line L52 (16.5494, -77.9316) -> (16.5494, -82.9316) projected
  line L53 (16.5494, -82.9316) -> (41.5494, -82.9316) projected
  line L54 (41.5494, -82.9316) -> (41.5494, -77.9316) projected
  line L55 (41.5494, -77.9316) -> (91.5494, -77.9316) projected
  line L56 (91.5494, -77.9316) -> (91.5494, -62.9316) projected
  line L57 (91.5494, -62.9316) -> (86.5494, -62.9316) projected
  line L58 (86.5494, -62.9316) -> (86.5494, -42.9316) projected
  line L59 (86.5494, -42.9316) -> (91.5494, -42.9316) projected
  line L60 (91.5494, -42.9316) -> (91.5494, -32.9316) projected
  line L61 (91.5494, -32.9316) -> (86.5494, -32.9316) projected
  line L62 (86.5494, -32.9316) -> (86.5494, -12.9316) projected
  line L63 (86.5494, -12.9316) -> (91.5494, -12.9316) projected
  line L64 (91.5494, -12.9316) -> (91.5494, 2.0684) projected
  line L65 (91.5494, 2.0684) -> (51.5494, 2.0684) projected
  line L66 (51.5494, 2.0684) -> (51.5494, -2.9316) projected
  line L67 (51.5494, -2.9316) -> (26.5494, -2.9316) projected
  line L68 (26.5494, -2.9316) -> (26.5494, 2.0684) projected
  line L69 (26.5494, 2.0684) -> (-23.4506, 2.0684) projected
  line L70 (-23.4506, 2.0684) -> (-23.4506, -2.9316) projected
  line L71 (-23.4506, -2.9316) -> (-48.4506, -2.9316) projected
  line L72 (-48.4506, -2.9316) -> (-48.4506, 2.0684) projected
  line L73 (-48.4506, 2.0684) -> (-73.4506, 2.0684) projected
  line L74 (-73.4506, 2.0684) -> (-73.4506, -2.9316) projected
  line L75 (-73.4506, -2.9316) -> (-98.4506, -2.9316) projected
  line L76 (-98.4506, -2.9316) -> (-98.4506, 2.0684) projected
  line L77 (-98.4506, 2.0684) -> (-148.4506, 2.0684) projected
  line L78 (-148.4506, 2.0684) -> (-148.4506, 14.0684) projected
  line L79 (-148.4506, 14.0684) -> (-153.4506, 14.0684) projected
  line L80 (-153.4506, 14.0684) -> (-153.4506, 30.0684) projected
  line L81 (-153.4506, 30.0684) -> (-148.4506, 30.0684) projected
  line L82 (-148.4506, 30.0684) -> (-148.4506, 42.0684) projected
  line L83 (-148.4506, 42.0684) -> (-160.4506, 42.0684) projected
  line L84 (-160.4506, 42.0684) -> (-160.4506, 38.0682) projected
  line L85 (-160.4506, 38.0682) -> (-176.4506, 38.0682) projected
  line L86 (-98.4506, -12.9316) -> (-73.4506, -12.9316)
  line L87 (-73.4506, -12.9316) -> (-73.4506, -17.9316)
  line L88 (-73.4506, -17.9316) -> (-98.4506, -17.9316)
  line L89 (-98.4506, -17.9316) -> (-98.4506, -12.9316)
  line L90 (41.5494, -12.9316) -> (66.5494, -12.9316)
  line L91 (66.5494, -12.9316) -> (66.5494, -17.9316)
  line L92 (66.5494, -17.9316) -> (41.5494, -17.9316)
  line L93 (41.5494, -17.9316) -> (41.5494, -12.9316)
  point P0 (0, 0)
  dimension "d66" = 25
  dimension "d67" = 5
  dimension "d68" = 25
  dimension "d69" = 5
  dimension "d70" = 50
  dimension "d71" = 25
  dimension "d72" = 60
  dimension "d73" = 60
extrude "Extrusion4" cut sketch "Sketch4" against normal blind 5 contours L86 L87 L88 L89 | L90 L91 L92 L93
properties part number "Frontal"
